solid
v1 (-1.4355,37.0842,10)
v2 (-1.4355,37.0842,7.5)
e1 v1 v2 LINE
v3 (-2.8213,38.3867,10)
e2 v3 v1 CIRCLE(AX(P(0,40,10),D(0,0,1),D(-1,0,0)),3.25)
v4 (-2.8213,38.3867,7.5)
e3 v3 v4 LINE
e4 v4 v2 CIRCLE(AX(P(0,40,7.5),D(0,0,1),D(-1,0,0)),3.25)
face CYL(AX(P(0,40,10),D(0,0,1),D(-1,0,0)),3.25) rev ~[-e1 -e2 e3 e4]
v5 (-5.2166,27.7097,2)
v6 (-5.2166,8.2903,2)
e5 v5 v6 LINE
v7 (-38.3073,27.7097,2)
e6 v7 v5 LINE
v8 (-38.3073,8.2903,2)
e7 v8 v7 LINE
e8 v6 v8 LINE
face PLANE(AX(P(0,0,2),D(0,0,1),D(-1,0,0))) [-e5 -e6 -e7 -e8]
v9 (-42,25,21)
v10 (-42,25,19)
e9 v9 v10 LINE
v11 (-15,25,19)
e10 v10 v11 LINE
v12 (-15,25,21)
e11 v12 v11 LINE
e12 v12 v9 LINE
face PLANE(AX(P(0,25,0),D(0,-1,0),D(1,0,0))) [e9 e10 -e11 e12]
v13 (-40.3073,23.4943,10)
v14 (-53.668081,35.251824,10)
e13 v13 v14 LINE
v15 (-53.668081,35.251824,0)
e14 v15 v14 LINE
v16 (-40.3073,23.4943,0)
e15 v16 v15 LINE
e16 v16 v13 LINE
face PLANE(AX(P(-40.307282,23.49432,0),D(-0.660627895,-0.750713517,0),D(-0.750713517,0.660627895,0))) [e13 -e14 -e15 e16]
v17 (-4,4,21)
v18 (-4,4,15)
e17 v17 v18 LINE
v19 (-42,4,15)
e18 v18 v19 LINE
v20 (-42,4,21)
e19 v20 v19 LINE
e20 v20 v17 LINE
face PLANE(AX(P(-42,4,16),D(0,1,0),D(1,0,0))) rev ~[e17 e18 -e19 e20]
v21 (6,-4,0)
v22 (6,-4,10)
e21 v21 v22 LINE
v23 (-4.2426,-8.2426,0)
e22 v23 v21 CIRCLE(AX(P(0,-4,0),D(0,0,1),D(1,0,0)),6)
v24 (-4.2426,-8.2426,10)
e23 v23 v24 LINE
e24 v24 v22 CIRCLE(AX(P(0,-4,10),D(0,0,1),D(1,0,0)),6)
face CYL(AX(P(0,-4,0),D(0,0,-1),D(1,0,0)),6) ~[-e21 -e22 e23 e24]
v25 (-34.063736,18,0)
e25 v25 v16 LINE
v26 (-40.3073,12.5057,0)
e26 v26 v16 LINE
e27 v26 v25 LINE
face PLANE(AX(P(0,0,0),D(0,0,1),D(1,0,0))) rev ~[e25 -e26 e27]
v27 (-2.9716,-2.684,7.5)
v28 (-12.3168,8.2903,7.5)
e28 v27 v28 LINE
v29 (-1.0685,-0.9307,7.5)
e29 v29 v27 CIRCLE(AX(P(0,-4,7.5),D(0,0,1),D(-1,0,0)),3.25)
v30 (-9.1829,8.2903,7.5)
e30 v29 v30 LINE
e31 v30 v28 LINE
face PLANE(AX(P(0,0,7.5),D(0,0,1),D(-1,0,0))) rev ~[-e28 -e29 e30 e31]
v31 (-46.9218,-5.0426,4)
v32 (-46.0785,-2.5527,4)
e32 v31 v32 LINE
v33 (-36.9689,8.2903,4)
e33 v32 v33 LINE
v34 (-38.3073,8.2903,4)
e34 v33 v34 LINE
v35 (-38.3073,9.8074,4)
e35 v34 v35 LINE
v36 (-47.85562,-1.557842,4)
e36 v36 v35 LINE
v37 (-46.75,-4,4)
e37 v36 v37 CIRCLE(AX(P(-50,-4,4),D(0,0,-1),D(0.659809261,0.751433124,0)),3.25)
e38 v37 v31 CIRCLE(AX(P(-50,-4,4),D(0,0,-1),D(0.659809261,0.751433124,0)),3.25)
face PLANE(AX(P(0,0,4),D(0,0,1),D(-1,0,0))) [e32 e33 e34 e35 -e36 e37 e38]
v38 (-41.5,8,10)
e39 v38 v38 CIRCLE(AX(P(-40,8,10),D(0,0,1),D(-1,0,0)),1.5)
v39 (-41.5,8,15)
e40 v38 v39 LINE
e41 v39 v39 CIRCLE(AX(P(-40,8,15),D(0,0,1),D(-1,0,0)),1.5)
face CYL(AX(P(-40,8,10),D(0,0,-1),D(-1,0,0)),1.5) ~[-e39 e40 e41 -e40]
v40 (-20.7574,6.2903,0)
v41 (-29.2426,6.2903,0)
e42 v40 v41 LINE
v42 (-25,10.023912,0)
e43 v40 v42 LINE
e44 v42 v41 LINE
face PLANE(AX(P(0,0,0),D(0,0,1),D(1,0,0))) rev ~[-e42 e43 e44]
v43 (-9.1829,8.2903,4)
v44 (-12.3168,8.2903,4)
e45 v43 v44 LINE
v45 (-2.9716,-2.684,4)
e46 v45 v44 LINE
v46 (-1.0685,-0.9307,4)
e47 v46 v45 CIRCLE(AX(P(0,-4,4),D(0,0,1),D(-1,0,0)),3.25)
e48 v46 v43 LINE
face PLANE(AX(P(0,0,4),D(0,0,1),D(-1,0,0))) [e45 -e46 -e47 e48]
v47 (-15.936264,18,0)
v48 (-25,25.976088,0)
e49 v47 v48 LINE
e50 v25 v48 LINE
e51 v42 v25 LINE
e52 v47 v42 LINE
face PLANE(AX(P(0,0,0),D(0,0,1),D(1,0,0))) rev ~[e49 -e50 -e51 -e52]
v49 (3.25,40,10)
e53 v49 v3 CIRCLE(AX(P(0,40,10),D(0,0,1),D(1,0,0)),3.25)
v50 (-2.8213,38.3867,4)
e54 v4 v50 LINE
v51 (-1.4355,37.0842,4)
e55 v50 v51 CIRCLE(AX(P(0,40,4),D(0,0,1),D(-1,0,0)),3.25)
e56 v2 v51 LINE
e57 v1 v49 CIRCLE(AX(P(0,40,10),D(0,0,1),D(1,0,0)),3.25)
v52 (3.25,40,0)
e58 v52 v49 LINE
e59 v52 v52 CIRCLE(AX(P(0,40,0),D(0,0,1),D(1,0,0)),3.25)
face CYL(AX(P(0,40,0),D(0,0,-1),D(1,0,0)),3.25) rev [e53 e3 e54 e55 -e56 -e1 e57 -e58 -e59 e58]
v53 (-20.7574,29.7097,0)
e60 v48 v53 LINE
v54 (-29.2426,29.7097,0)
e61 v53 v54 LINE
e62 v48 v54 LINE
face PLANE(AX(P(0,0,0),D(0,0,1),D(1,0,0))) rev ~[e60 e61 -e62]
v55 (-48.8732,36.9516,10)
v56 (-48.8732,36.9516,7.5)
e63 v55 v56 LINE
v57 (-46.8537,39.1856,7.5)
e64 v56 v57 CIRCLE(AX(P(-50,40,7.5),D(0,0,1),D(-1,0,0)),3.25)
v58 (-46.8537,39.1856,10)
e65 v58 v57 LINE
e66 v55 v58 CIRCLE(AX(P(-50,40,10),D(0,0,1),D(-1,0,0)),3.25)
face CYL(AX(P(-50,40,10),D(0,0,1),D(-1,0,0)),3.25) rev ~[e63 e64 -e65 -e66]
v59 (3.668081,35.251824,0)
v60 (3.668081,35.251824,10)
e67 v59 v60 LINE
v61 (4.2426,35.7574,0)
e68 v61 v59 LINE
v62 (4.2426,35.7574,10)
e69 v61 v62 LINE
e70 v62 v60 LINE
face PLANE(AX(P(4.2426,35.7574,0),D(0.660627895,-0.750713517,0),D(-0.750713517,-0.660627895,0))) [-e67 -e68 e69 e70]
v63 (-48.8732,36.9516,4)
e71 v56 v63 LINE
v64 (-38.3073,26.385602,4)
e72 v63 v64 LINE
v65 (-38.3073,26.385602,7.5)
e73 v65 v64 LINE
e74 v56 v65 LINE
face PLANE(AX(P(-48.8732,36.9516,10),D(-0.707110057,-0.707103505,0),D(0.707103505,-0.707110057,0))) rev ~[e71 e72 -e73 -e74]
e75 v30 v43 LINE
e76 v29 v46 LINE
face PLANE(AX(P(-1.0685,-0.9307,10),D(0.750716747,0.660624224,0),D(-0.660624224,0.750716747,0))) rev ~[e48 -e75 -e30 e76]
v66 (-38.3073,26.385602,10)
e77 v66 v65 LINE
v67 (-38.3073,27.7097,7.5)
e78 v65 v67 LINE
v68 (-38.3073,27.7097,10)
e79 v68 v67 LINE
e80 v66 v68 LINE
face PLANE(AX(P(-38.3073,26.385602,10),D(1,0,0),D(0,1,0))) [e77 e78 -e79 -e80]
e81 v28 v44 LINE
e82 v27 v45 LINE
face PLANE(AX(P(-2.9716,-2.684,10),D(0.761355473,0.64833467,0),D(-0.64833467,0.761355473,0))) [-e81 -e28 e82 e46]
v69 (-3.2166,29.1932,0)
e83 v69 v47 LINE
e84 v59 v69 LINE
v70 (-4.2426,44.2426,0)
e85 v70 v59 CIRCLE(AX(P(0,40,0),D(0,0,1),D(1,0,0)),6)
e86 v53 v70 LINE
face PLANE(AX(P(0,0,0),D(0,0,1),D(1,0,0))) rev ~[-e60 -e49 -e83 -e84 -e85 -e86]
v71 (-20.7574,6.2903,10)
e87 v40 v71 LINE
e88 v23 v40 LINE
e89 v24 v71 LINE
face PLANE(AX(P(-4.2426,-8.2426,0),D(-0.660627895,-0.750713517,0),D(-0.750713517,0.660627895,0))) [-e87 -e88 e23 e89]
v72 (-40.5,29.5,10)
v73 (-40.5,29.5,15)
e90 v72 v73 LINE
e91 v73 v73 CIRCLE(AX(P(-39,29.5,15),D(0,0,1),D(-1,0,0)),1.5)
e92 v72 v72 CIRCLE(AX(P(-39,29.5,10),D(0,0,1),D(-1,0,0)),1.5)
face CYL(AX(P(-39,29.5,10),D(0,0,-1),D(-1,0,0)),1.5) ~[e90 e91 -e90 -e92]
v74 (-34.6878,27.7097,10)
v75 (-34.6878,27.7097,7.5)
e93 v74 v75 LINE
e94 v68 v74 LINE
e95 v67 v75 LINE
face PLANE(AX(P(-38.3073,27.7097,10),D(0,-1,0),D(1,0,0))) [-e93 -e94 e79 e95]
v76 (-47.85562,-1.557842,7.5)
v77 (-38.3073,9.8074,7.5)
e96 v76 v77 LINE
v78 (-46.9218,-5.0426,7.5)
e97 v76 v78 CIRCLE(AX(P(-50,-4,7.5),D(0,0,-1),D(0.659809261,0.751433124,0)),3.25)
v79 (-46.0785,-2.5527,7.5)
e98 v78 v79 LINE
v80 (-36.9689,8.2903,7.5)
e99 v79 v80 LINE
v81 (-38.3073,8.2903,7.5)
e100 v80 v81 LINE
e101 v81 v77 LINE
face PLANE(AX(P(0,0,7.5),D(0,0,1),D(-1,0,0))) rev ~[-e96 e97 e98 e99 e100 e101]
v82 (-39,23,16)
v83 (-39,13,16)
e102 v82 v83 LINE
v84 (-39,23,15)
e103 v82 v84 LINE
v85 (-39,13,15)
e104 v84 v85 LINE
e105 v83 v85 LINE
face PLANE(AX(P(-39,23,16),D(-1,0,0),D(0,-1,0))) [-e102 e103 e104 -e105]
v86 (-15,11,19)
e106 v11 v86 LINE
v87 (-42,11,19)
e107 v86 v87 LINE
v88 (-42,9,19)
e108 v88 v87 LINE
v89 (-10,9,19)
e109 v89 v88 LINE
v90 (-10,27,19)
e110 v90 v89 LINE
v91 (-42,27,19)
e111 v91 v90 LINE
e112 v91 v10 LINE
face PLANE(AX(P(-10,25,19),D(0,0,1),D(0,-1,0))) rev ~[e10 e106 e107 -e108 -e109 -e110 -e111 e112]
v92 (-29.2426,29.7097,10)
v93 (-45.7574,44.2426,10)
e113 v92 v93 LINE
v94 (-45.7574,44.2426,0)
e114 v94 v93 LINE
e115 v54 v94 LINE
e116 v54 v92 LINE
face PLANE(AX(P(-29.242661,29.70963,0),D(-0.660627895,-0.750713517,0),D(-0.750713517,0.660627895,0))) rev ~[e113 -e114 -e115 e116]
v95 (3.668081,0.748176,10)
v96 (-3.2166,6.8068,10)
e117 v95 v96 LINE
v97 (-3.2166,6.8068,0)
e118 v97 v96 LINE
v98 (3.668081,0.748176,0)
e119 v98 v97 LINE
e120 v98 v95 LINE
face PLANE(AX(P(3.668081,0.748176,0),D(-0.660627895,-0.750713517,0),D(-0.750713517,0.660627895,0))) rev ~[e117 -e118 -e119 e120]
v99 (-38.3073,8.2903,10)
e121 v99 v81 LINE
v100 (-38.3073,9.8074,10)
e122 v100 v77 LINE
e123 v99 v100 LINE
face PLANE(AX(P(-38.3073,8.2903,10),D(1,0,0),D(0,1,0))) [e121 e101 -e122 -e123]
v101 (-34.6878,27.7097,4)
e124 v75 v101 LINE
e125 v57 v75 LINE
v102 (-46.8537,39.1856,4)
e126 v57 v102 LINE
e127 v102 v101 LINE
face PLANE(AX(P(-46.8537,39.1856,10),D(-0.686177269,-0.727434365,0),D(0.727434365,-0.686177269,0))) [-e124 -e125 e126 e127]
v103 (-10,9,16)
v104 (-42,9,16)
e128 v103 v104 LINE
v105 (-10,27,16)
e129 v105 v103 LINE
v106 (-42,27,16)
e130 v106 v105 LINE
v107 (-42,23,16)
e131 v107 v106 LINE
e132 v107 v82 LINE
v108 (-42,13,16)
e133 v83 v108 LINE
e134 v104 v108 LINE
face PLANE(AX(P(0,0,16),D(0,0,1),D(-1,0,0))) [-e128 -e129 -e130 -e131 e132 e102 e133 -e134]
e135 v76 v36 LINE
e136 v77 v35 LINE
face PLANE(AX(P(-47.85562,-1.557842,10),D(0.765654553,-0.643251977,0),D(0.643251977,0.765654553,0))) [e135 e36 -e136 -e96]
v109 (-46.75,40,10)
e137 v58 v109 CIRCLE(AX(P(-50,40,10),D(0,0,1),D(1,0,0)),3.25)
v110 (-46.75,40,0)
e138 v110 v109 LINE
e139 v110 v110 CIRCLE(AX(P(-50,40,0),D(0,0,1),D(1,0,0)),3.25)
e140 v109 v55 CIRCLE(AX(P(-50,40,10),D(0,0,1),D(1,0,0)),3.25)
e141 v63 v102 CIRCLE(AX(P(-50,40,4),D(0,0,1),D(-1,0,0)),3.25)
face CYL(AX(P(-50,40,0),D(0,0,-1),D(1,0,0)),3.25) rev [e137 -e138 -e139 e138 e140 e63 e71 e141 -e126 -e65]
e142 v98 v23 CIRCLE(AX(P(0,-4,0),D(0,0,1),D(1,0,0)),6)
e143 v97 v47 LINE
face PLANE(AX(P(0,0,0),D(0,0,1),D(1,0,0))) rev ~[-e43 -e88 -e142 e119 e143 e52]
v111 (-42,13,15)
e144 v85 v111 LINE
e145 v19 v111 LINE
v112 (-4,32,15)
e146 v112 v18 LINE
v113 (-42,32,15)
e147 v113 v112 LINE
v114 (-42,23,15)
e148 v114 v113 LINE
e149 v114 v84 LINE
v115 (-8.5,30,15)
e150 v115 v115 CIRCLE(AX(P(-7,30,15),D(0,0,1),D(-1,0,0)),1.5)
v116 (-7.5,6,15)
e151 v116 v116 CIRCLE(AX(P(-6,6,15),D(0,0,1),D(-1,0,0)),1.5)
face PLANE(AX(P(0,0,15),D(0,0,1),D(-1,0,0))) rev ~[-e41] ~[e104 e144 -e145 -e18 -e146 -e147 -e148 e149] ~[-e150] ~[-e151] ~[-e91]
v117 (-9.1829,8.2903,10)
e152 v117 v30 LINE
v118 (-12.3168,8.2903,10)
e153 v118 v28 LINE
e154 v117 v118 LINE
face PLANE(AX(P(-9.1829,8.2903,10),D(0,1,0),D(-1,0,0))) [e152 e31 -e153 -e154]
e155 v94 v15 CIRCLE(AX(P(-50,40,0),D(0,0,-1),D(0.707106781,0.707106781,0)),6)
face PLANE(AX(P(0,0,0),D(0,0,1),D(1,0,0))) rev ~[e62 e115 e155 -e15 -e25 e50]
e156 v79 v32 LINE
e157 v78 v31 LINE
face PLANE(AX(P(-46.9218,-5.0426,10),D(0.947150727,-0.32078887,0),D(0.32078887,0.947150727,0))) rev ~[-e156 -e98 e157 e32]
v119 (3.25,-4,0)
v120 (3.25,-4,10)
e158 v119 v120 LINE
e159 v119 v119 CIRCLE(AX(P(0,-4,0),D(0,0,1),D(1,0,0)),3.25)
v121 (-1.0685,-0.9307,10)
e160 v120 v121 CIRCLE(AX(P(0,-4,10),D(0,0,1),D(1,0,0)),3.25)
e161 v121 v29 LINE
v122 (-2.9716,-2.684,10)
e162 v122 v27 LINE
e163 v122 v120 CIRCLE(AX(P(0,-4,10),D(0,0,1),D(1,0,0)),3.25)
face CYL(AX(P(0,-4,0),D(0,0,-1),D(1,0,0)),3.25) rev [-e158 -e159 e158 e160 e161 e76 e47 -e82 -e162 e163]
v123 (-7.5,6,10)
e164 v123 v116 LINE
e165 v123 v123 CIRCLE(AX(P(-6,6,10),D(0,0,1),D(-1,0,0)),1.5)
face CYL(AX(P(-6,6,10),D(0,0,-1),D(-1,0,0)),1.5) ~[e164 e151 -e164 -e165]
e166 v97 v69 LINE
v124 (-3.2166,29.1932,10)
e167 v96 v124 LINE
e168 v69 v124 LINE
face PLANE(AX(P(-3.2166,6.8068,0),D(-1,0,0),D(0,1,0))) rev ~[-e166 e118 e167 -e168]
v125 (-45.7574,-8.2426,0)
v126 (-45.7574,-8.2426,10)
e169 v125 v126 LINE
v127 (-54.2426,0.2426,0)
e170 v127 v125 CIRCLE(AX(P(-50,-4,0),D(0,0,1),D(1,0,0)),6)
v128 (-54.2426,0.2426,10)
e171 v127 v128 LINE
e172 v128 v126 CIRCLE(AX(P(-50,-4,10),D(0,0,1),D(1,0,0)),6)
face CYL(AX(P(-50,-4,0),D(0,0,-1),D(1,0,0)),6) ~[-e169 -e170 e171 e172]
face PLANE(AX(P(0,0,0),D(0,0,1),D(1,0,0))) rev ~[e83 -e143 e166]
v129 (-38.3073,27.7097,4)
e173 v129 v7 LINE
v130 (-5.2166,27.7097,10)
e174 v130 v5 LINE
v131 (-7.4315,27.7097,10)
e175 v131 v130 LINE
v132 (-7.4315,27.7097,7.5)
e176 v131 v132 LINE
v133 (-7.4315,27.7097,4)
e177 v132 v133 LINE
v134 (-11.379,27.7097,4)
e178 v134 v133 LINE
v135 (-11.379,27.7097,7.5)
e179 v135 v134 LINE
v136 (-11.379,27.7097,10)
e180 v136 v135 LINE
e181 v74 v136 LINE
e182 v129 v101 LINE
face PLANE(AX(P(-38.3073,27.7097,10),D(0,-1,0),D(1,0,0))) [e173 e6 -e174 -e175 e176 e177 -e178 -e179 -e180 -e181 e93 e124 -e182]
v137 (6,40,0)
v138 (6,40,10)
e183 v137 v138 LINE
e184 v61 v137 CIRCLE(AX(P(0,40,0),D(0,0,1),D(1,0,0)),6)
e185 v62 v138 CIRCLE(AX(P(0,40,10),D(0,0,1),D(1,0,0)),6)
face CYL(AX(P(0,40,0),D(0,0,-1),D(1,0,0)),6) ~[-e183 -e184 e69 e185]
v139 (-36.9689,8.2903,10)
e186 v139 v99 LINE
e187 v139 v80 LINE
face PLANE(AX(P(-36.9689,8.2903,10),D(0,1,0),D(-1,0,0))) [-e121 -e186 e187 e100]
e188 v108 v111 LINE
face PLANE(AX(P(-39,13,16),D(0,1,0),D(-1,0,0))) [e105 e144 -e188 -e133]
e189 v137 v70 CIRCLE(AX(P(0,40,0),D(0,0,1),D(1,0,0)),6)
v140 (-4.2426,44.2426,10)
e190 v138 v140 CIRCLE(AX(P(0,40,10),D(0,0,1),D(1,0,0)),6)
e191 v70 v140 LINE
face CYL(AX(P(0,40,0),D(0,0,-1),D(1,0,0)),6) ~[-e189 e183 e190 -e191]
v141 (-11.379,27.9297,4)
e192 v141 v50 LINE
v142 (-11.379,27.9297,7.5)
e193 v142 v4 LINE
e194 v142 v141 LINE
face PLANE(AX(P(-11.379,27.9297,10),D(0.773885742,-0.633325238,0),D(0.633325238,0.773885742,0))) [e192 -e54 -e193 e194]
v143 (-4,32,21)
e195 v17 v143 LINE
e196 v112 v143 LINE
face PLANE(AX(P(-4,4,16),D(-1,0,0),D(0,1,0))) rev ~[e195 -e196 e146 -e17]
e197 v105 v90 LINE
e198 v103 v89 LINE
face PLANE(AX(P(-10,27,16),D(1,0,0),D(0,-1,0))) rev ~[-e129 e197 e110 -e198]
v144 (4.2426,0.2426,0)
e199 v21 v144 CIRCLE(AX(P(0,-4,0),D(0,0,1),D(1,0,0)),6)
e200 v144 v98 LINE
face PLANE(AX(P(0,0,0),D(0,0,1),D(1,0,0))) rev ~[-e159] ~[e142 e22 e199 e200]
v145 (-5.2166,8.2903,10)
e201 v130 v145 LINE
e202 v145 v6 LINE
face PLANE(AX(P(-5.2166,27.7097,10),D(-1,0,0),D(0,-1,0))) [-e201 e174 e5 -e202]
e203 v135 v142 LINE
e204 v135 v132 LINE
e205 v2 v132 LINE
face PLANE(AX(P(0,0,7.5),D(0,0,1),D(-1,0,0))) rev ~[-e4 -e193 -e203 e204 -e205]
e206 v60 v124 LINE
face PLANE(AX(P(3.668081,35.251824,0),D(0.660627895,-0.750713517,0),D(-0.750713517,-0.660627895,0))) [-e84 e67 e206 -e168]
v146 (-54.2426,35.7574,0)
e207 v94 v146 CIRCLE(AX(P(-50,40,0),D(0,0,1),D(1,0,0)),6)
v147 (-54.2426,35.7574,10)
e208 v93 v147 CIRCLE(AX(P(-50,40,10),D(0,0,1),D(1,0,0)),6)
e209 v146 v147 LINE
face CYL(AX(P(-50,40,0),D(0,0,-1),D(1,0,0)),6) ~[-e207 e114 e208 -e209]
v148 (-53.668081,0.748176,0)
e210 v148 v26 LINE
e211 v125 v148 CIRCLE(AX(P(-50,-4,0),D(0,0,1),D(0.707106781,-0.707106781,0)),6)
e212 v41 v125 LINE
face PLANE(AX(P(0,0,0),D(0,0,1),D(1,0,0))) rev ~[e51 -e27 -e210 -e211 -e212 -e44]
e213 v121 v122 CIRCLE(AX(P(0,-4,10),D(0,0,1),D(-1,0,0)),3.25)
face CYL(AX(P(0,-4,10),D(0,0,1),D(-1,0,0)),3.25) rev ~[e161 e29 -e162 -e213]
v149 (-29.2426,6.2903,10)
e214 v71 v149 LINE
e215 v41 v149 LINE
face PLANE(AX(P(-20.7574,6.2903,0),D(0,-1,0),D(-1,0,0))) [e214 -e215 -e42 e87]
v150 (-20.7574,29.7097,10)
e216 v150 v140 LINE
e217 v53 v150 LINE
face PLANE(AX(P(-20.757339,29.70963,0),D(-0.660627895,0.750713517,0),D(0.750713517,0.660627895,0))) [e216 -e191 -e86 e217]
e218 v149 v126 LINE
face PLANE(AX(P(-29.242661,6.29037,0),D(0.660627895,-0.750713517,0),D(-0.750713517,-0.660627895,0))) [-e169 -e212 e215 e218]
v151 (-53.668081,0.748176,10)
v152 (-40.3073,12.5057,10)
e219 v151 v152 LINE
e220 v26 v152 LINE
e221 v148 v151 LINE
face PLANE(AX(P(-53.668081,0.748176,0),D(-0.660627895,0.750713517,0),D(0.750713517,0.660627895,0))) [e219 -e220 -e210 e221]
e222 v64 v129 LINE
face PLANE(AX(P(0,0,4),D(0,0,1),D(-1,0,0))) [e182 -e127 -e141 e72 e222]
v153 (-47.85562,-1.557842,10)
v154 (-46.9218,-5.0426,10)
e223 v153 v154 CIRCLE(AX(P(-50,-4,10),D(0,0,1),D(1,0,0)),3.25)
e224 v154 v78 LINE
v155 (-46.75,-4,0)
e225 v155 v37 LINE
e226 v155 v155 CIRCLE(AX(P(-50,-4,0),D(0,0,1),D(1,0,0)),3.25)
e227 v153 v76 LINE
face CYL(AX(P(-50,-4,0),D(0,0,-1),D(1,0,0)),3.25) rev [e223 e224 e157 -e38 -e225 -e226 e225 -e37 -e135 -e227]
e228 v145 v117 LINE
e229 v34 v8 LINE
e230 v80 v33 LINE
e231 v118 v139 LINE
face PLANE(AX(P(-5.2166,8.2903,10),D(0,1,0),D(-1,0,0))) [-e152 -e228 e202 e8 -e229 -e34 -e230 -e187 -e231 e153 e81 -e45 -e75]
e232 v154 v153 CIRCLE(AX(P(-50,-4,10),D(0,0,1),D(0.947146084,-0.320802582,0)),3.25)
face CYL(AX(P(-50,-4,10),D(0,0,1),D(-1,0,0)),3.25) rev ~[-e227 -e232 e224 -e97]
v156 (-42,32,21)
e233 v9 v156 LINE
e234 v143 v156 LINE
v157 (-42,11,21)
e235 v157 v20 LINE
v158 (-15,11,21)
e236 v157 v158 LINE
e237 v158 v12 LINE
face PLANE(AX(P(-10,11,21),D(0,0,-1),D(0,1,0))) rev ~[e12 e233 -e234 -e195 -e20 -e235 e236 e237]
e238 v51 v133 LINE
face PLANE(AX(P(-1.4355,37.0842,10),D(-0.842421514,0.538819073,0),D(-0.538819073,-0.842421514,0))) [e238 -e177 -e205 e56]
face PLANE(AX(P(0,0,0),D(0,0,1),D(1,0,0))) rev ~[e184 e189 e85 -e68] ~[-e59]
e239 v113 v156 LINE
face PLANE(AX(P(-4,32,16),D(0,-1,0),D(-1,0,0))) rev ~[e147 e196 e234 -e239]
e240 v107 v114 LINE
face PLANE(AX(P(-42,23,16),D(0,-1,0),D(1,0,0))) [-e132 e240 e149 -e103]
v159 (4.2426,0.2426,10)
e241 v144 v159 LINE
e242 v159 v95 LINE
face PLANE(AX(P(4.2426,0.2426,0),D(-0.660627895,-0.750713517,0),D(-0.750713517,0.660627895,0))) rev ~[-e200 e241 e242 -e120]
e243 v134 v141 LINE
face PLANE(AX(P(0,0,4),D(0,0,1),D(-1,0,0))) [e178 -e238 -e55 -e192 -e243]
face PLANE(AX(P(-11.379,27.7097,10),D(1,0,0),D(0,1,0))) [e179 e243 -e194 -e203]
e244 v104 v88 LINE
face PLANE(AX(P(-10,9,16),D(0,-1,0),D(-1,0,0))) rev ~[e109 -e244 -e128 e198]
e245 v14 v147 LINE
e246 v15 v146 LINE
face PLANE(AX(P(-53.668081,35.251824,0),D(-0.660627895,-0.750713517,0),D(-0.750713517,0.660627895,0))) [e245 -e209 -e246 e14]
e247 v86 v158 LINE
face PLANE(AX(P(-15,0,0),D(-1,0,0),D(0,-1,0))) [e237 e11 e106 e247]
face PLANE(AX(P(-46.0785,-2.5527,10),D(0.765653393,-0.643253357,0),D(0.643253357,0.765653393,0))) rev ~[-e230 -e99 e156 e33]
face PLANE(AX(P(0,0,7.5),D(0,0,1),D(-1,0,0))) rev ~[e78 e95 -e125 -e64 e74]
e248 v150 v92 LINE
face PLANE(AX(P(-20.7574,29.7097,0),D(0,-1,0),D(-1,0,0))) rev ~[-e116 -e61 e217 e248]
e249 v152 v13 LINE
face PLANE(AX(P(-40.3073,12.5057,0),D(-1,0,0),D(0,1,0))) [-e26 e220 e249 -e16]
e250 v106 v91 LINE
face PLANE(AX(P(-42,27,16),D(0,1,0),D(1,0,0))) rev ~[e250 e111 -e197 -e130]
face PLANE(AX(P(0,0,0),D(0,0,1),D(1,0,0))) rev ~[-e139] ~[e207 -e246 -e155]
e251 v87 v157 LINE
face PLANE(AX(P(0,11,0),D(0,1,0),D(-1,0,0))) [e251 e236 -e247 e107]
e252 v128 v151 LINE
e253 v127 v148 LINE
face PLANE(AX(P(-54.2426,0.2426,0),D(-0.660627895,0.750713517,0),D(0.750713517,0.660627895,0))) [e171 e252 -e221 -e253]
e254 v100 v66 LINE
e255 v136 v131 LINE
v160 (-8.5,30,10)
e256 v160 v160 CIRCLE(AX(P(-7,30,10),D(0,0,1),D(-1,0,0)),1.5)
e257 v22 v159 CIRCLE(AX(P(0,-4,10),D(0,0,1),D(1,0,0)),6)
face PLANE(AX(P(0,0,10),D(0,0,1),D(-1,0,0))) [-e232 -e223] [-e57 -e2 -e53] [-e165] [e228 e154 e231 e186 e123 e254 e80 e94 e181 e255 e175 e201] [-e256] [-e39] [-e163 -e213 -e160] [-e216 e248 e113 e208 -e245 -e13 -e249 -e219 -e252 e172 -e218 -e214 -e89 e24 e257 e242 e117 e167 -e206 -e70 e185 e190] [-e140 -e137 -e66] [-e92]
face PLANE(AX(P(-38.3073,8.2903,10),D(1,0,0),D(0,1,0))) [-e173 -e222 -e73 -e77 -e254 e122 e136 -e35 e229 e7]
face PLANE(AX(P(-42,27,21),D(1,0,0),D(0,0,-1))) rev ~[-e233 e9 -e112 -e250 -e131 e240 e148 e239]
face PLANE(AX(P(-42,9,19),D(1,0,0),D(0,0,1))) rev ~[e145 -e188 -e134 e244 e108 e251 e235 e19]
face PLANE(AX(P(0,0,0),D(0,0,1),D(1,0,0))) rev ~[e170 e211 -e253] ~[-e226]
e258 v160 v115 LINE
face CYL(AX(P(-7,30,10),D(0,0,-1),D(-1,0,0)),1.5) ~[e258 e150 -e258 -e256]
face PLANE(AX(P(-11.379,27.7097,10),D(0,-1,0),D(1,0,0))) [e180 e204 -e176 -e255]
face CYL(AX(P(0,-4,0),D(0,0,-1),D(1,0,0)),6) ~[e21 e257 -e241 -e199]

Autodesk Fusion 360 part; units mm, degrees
sketch "Skizze1" plane through (0, 0, 0) normal (0, 0, 1) x (1, 0, 0)
  line L0 (-50, 40) -> (0, 40) construction
  circle A0 centre (-50, 40) radius 3.25
  circle A1 centre (0, 40) radius 3.25
  line L1 (-25, 40) -> (-25, -4) construction
  line L2 (-25, -4) -> (0, -4) construction
  line L3 (0, -4) -> (-50, -4) construction
  circle A2 centre (-50, -4) radius 3.25
  circle A3 centre (0, -4) radius 3.25
  circle A4 centre (-50, 40) radius 6
  circle A5 centre (0, 40) radius 6
  circle A6 centre (0, -4) radius 6
  circle A7 centre (-50, -4) radius 6
  line L4 (-50, -4) -> (0, 40) construction
  line L5 (0, -4) -> (-50, 40) construction
  line L6 (-50, 40) -> (-50, 46) construction
  line L7 (-50, 40) -> (-49.8093, 40.2167) construction
  line L8 (-50, 40) -> (-45.7574, 44.2426) construction
  line L9 (-50, 40) -> (-44, 40) construction
  line L10 (-50, 40) -> (-56, 40) construction
  line L11 (-50, 40) -> (-54.2426, 35.7574) construction
  line L12 (0, -4) -> (6, -4) construction
  line L13 (0, -4) -> (4.2426, 0.2426) construction
  line L14 (0, -4) -> (6, -4) construction
  line L15 (0, -4) -> (0, -10) construction
  line L16 (0, -4) -> (-4.2426, -8.2426) construction
  line L17 (-4.2426, -8.2426) -> (-54.2426, 35.7574)
  line L18 (4.2426, 0.2426) -> (-45.7574, 44.2426)
  line L19 (0, 40) -> (0, 46) construction
  line L20 (0, 40) -> (-4.2426, 44.2426) construction
  line L21 (0, 40) -> (4.2426, 35.7574) construction
  line L22 (0, 40) -> (6, 40) construction
  line L23 (-50, -4) -> (-45.7574, -8.2426) construction
  line L24 (-50, -4) -> (-44, -4) construction
  line L25 (-50, -4) -> (-54.2426, 0.2426) construction
  line L26 (-50, -4) -> (-44, -4) construction
  line L27 (-54.2426, 0.2426) -> (-4.2426, 44.2426)
  line L28 (4.2426, 35.7574) -> (-45.7574, -8.2426)
  line L29 (-3.2166, 6.8068) -> (-3.2166, 29.1932)
  line L30 (-40.3073, 12.5057) -> (-40.3073, 23.4943)
  line L31 (-20.7574, 6.2903) -> (-29.2426, 6.2903)
  line L32 (-20.7574, 29.7097) -> (-29.2426, 29.7097)
  dimension "d2" = 6.5
  dimension "d3" = 6.5
  dimension "d4" = 6.5
  dimension "d5" = 6.5
  dimension "d6" = 12
  dimension "d7" = 12
  dimension "d8" = 12
  dimension "d9" = 45
  dimension "d10" = 135
  dimension "d11" = 6
  dimension "d12" = 45
  dimension "d13" = 135
  dimension "d14" = 135
  dimension "d15" = 45
  dimension "d16" = 6
  dimension "d17" = 45
  dimension "d18" = 135
extrude "Extrusion1" add sketch "Skizze1" along normal blind 10 contours A4 L17 | A4 L17 L18 L27 | A5 L18 L27 L28 | L17 L18 L27 L28 | A7 L17 L27 L28 | A6 L17 L18 L28 | A5 L28 | A7 L27 | A6 L18 picked at (-55.035, 39.3919) picked at (-3.2811, 43.8676) picked at (-46.7227, -7.8704) picked at (-3.2811, -7.8676)
extrude "Extrusion2" add sketch "Skizze1" along normal blind 10 contours L18 L27 L32 | L17 L27 L30 | L18 L28 L29 | L17 L28 L31
sketch "Skizze2" plane through (0, 0, 10) normal (0, 0, 1) x (-1, 0, 0)
  circle A0 centre (0, -40) radius 3.25
  circle A1 centre (50, 4) radius 3.25
  circle A2 centre (50, -40) radius 3.25
  circle A3 centre (0, 4) radius 3.25
  line L0 (29.2426, -29.7097) -> (45.7574, -44.2426)
  arc A4 (45.7574, -44.2426) -> (54.2426, -35.7574) centre (50, -40) ccw
  line L1 (54.2426, -35.7574) -> (40.3073, -23.4943)
  line L2 (40.3073, -23.4943) -> (40.3073, -12.5057)
  line L3 (40.3073, -12.5057) -> (54.2426, -0.2426)
  arc A5 (54.2426, -0.2426) -> (45.7574, 8.2426) centre (50, 4) ccw
  line L4 (45.7574, 8.2426) -> (29.2426, -6.2903)
  line L5 (29.2426, -6.2903) -> (20.7574, -6.2903)
  line L6 (20.7574, -6.2903) -> (4.2426, 8.2426)
  arc A6 (4.2426, 8.2426) -> (-4.2426, -0.2426) centre (0, 4) ccw
  line L7 (-4.2426, -0.2426) -> (3.2166, -6.8068)
  line L8 (3.2166, -6.8068) -> (3.2166, -29.1932)
  line L9 (3.2166, -29.1932) -> (-4.2426, -35.7574)
  arc A7 (-4.2426, -35.7574) -> (4.2426, -44.2426) centre (0, -40) ccw
  line L10 (4.2426, -44.2426) -> (20.7574, -29.7097)
  line L11 (20.7574, -29.7097) -> (29.2426, -29.7097)
  line L12 (5.2166, -8.2903) -> (38.3073, -8.2903) construction
  line L13 (38.3073, -8.2903) -> (38.3073, -27.7097) construction
  line L14 (38.3073, -27.7097) -> (5.2166, -27.7097) construction
  line L15 (5.2166, -27.7097) -> (5.2166, -8.2903) construction
  line L16 (3.2166, -6.8068) -> (3.2166, -29.1932) construction
  line L17 (5.2166, -8.2903) -> (38.3073, -8.2903)
  line L18 (38.3073, -8.2903) -> (38.3073, -27.7097)
  line L19 (38.3073, -27.7097) -> (5.2166, -27.7097)
  line L20 (5.2166, -27.7097) -> (5.2166, -8.2903)
  dimension "d24" = 2
  dimension "d25" = 2
  dimension "d26" = 2
  dimension "d27" = 2
extrude "Extrusion3" cut sketch "Skizze2" against normal blind 8 contours L17 L18 L19 L20
sketch "Skizze3" plane through (0, 0, 10) normal (0, 0, 1) x (-1, 0, 0)
  line L0 (38.3073, -8.2903) -> (38.3073, -27.7097)
  line L1 (38.3073, -27.7097) -> (5.2166, -27.7097)
  line L2 (5.2166, -27.7097) -> (5.2166, -8.2903)
  line L3 (5.2166, -8.2903) -> (38.3073, -8.2903)
  circle A0 centre (0, -40) radius 3.25
  circle A1 centre (50, 4) radius 3.25
  circle A2 centre (50, -40) radius 3.25
  circle A3 centre (0, 4) radius 3.25
  line L4 (29.2426, -29.7097) -> (45.7574, -44.2426)
  arc A4 (45.7574, -44.2426) -> (54.2426, -35.7574) centre (50, -40) ccw
  line L5 (54.2426, -35.7574) -> (40.3073, -23.4943)
  line L6 (40.3073, -23.4943) -> (40.3073, -12.5057)
  line L7 (40.3073, -12.5057) -> (54.2426, -0.2426)
  arc A5 (54.2426, -0.2426) -> (45.7574, 8.2426) centre (50, 4) ccw
  line L8 (45.7574, 8.2426) -> (29.2426, -6.2903)
  line L9 (29.2426, -6.2903) -> (20.7574, -6.2903)
  line L10 (20.7574, -6.2903) -> (4.2426, 8.2426)
  arc A6 (4.2426, 8.2426) -> (-4.2426, -0.2426) centre (0, 4) ccw
  line L11 (-4.2426, -0.2426) -> (3.2166, -6.8068)
  line L12 (3.2166, -6.8068) -> (3.2166, -29.1932)
  line L13 (3.2166, -29.1932) -> (-4.2426, -35.7574)
  arc A7 (-4.2426, -35.7574) -> (4.2426, -44.2426) centre (0, -40) ccw
  line L14 (4.2426, -44.2426) -> (20.7574, -29.7097)
  line L15 (20.7574, -29.7097) -> (29.2426, -29.7097)
  line L16 (48.8732, -36.9516) -> (38.0802, -26.1585)
  line L17 (48.8732, -36.9516) -> (64.1369, -36.9516) construction
  line L18 (46.8537, -39.1856) -> (34.6878, -27.7097)
  line L19 (48.8732, -36.9516) -> (46.8537, -39.1856)
  line L20 (38.0802, -26.1585) -> (34.6878, -27.7097)
  line L21 (1.4355, -37.0842) -> (7.4315, -27.7097)
  line L22 (11.379, -27.7097) -> (11.379, -27.9297)
  line L23 (11.379, -27.9297) -> (2.8213, -38.3867)
  line L24 (11.379, -27.7097) -> (7.4315, -27.7097)
  line L25 (2.8213, -38.3867) -> (1.4355, -37.0842)
  line L26 (1.0685, 0.9307) -> (9.1829, -8.2903)
  line L27 (2.9716, 2.684) -> (12.3168, -8.2903)
  line L28 (47.853, 1.5602) -> (47.9543, 1.6753)
  line L29 (47.9543, 1.6753) -> (38.3073, -9.8074)
  line L30 (46.9218, 5.0426) -> (46.0785, 2.5527)
  line L31 (46.0785, 2.5527) -> (36.9689, -8.2903)
  line L32 (38.3073, -9.8074) -> (36.9689, -8.2903)
  line L33 (46.9218, 5.0426) -> (46.9218, 4.5082)
  line L34 (46.9218, 4.5082) -> (47.853, 1.5602)
  line L35 (2.9716, 2.684) -> (1.0685, 0.9307)
  line L36 (12.3168, -8.2903) -> (9.1829, -8.2903)
  line L37 (9.1829, -8.2903) -> (12.3168, -8.2903)
  dimension "d30" = 135
extrude "Extrusion4" cut sketch "Skizze3" against normal blind 6 contours L0 L3 A1 L29 L30 L31 | L0 L1 A2 L16 L18 | L3 A3 L26 L27 L36 L37 | L1 A0 L21 L22 L23 L24
extrude "Extrusion5" add sketch "Skizze3" against normal blind 2.5 contours L0 L3 A1 L29 L30 L31 | L0 L1 A2 L16 L18 | L3 A3 L26 L27 L36 L37 | L1 A0 L21 L22 L23 L24
sketch "Skizze4" plane through (0, 0, 10) normal (0, 0, 1) x (-1, 0, 0)
  circle A0 centre (39, -29.5) radius 1.5
  circle A1 centre (7, -30) radius 1.5
  circle A2 centre (40, -8) radius 1.5
  circle A3 centre (6, -6) radius 1.5
  dimension "d35" = 3
  dimension "d36" = 3
  dimension "d37" = 3
  dimension "d38" = 3
extrude "Extrusion6" add sketch "Skizze4" along normal blind 5
sketch "Skizze5" plane through (0, 0, 15) normal (0, 0, 1) x (-1, 0, 0)
  circle A0 centre (40, -8) radius 1.5
  line L0 (4, -4) -> (42, -4)
  line L1 (42, -4) -> (42, -32)
  line L2 (42, -32) -> (4, -32)
  line L3 (4, -32) -> (4, -4)
extrude "Extrusion7" add sketch "Skizze5" along normal blind 1 contours A0 | L0 L1 L2 L3
sketch "Skizze6" plane through (0, 0, 16) normal (0, 0, 1) x (-1, 0, 0)
  line L0 (4, -32) -> (42, -32)
  line L1 (42, -32) -> (42, -4)
  line L2 (42, -4) -> (4, -4)
  line L3 (4, -4) -> (4, -32)
  line L4 (42, -27) -> (10, -27)
  line L5 (10, -27) -> (10, -9)
  line L6 (10, -9) -> (42, -9)
  line L7 (42, -9) -> (42, -4)
  line L8 (4, -4) -> (4, -32)
  line L9 (42, -32) -> (42, -27)
  dimension "d43" = 5
  dimension "d44" = 5
  dimension "d45" = 6
extrude "Extrusion8" add sketch "Skizze6" along normal blind 5 contours L0 L1 L2 L3 L4 L5 L6 L7 L8 L9
sketch "Skizze7" plane through (0, 0, 16) normal (0, 0, 1) x (-1, 0, 0)
  line L0 (42, -9) -> (10, -9)
  line L1 (10, -9) -> (10, -27)
  line L2 (10, -27) -> (42, -27)
  line L3 (42, -27) -> (42, -9)
  line L4 (42, -23) -> (39, -23)
  line L5 (39, -23) -> (39, -13)
  line L6 (39, -13) -> (42, -13)
  line L7 (42, -23) -> (42, -13)
extrude "Extrusion9" cut sketch "Skizze7" against normal blind 1 contours L3 L4 L5 L6 L7
sketch "Skizze8" plane through (0, 27, 0) normal (0, -1, 0) x (1, 0, 0)
  line L0 (-42, 16) -> (-10, 16)
  line L1 (-10, 16) -> (-10, 21)
  line L2 (-10, 21) -> (-42, 21)
  line L3 (-42, 21) -> (-42, 16)
  line L4 (-42, 19) -> (-10, 19)
extrude "Extrusion10" add sketch "Skizze8" along normal blind 2 contours L1 L2 L3 L4
sketch "Skizze9" plane through (0, 9, 0) normal (0, 1, 0) x (-1, 0, 0)
  line L0 (10, 16) -> (42, 16)
  line L1 (42, 16) -> (42, 21)
  line L2 (42, 21) -> (10, 21)
  line L3 (10, 21) -> (10, 16)
  line L4 (10, 19) -> (42, 19)
extrude "Extrusion11" add sketch "Skizze9" along normal blind 2 contours L1 L2 L3 L4
sketch "Skizze10" plane through (-10, 0, 0) normal (-1, 0, 0) x (0, -1, 0)
  line L0 (-11, 19) -> (-11, 21)
  line L1 (-11, 21) -> (-25, 21)
  line L2 (-25, 21) -> (-25, 19)
  line L3 (-25, 19) -> (-27, 19)
  line L4 (-27, 19) -> (-27, 16)
  line L5 (-27, 16) -> (-9, 16)
  line L6 (-9, 16) -> (-9, 19)
  line L7 (-9, 19) -> (-11, 19)
  line L8 (-25, 19) -> (-11, 19)
extrude "Extrusion12" add sketch "Skizze10" along normal blind 5 contours L0 L1 L2 L8
